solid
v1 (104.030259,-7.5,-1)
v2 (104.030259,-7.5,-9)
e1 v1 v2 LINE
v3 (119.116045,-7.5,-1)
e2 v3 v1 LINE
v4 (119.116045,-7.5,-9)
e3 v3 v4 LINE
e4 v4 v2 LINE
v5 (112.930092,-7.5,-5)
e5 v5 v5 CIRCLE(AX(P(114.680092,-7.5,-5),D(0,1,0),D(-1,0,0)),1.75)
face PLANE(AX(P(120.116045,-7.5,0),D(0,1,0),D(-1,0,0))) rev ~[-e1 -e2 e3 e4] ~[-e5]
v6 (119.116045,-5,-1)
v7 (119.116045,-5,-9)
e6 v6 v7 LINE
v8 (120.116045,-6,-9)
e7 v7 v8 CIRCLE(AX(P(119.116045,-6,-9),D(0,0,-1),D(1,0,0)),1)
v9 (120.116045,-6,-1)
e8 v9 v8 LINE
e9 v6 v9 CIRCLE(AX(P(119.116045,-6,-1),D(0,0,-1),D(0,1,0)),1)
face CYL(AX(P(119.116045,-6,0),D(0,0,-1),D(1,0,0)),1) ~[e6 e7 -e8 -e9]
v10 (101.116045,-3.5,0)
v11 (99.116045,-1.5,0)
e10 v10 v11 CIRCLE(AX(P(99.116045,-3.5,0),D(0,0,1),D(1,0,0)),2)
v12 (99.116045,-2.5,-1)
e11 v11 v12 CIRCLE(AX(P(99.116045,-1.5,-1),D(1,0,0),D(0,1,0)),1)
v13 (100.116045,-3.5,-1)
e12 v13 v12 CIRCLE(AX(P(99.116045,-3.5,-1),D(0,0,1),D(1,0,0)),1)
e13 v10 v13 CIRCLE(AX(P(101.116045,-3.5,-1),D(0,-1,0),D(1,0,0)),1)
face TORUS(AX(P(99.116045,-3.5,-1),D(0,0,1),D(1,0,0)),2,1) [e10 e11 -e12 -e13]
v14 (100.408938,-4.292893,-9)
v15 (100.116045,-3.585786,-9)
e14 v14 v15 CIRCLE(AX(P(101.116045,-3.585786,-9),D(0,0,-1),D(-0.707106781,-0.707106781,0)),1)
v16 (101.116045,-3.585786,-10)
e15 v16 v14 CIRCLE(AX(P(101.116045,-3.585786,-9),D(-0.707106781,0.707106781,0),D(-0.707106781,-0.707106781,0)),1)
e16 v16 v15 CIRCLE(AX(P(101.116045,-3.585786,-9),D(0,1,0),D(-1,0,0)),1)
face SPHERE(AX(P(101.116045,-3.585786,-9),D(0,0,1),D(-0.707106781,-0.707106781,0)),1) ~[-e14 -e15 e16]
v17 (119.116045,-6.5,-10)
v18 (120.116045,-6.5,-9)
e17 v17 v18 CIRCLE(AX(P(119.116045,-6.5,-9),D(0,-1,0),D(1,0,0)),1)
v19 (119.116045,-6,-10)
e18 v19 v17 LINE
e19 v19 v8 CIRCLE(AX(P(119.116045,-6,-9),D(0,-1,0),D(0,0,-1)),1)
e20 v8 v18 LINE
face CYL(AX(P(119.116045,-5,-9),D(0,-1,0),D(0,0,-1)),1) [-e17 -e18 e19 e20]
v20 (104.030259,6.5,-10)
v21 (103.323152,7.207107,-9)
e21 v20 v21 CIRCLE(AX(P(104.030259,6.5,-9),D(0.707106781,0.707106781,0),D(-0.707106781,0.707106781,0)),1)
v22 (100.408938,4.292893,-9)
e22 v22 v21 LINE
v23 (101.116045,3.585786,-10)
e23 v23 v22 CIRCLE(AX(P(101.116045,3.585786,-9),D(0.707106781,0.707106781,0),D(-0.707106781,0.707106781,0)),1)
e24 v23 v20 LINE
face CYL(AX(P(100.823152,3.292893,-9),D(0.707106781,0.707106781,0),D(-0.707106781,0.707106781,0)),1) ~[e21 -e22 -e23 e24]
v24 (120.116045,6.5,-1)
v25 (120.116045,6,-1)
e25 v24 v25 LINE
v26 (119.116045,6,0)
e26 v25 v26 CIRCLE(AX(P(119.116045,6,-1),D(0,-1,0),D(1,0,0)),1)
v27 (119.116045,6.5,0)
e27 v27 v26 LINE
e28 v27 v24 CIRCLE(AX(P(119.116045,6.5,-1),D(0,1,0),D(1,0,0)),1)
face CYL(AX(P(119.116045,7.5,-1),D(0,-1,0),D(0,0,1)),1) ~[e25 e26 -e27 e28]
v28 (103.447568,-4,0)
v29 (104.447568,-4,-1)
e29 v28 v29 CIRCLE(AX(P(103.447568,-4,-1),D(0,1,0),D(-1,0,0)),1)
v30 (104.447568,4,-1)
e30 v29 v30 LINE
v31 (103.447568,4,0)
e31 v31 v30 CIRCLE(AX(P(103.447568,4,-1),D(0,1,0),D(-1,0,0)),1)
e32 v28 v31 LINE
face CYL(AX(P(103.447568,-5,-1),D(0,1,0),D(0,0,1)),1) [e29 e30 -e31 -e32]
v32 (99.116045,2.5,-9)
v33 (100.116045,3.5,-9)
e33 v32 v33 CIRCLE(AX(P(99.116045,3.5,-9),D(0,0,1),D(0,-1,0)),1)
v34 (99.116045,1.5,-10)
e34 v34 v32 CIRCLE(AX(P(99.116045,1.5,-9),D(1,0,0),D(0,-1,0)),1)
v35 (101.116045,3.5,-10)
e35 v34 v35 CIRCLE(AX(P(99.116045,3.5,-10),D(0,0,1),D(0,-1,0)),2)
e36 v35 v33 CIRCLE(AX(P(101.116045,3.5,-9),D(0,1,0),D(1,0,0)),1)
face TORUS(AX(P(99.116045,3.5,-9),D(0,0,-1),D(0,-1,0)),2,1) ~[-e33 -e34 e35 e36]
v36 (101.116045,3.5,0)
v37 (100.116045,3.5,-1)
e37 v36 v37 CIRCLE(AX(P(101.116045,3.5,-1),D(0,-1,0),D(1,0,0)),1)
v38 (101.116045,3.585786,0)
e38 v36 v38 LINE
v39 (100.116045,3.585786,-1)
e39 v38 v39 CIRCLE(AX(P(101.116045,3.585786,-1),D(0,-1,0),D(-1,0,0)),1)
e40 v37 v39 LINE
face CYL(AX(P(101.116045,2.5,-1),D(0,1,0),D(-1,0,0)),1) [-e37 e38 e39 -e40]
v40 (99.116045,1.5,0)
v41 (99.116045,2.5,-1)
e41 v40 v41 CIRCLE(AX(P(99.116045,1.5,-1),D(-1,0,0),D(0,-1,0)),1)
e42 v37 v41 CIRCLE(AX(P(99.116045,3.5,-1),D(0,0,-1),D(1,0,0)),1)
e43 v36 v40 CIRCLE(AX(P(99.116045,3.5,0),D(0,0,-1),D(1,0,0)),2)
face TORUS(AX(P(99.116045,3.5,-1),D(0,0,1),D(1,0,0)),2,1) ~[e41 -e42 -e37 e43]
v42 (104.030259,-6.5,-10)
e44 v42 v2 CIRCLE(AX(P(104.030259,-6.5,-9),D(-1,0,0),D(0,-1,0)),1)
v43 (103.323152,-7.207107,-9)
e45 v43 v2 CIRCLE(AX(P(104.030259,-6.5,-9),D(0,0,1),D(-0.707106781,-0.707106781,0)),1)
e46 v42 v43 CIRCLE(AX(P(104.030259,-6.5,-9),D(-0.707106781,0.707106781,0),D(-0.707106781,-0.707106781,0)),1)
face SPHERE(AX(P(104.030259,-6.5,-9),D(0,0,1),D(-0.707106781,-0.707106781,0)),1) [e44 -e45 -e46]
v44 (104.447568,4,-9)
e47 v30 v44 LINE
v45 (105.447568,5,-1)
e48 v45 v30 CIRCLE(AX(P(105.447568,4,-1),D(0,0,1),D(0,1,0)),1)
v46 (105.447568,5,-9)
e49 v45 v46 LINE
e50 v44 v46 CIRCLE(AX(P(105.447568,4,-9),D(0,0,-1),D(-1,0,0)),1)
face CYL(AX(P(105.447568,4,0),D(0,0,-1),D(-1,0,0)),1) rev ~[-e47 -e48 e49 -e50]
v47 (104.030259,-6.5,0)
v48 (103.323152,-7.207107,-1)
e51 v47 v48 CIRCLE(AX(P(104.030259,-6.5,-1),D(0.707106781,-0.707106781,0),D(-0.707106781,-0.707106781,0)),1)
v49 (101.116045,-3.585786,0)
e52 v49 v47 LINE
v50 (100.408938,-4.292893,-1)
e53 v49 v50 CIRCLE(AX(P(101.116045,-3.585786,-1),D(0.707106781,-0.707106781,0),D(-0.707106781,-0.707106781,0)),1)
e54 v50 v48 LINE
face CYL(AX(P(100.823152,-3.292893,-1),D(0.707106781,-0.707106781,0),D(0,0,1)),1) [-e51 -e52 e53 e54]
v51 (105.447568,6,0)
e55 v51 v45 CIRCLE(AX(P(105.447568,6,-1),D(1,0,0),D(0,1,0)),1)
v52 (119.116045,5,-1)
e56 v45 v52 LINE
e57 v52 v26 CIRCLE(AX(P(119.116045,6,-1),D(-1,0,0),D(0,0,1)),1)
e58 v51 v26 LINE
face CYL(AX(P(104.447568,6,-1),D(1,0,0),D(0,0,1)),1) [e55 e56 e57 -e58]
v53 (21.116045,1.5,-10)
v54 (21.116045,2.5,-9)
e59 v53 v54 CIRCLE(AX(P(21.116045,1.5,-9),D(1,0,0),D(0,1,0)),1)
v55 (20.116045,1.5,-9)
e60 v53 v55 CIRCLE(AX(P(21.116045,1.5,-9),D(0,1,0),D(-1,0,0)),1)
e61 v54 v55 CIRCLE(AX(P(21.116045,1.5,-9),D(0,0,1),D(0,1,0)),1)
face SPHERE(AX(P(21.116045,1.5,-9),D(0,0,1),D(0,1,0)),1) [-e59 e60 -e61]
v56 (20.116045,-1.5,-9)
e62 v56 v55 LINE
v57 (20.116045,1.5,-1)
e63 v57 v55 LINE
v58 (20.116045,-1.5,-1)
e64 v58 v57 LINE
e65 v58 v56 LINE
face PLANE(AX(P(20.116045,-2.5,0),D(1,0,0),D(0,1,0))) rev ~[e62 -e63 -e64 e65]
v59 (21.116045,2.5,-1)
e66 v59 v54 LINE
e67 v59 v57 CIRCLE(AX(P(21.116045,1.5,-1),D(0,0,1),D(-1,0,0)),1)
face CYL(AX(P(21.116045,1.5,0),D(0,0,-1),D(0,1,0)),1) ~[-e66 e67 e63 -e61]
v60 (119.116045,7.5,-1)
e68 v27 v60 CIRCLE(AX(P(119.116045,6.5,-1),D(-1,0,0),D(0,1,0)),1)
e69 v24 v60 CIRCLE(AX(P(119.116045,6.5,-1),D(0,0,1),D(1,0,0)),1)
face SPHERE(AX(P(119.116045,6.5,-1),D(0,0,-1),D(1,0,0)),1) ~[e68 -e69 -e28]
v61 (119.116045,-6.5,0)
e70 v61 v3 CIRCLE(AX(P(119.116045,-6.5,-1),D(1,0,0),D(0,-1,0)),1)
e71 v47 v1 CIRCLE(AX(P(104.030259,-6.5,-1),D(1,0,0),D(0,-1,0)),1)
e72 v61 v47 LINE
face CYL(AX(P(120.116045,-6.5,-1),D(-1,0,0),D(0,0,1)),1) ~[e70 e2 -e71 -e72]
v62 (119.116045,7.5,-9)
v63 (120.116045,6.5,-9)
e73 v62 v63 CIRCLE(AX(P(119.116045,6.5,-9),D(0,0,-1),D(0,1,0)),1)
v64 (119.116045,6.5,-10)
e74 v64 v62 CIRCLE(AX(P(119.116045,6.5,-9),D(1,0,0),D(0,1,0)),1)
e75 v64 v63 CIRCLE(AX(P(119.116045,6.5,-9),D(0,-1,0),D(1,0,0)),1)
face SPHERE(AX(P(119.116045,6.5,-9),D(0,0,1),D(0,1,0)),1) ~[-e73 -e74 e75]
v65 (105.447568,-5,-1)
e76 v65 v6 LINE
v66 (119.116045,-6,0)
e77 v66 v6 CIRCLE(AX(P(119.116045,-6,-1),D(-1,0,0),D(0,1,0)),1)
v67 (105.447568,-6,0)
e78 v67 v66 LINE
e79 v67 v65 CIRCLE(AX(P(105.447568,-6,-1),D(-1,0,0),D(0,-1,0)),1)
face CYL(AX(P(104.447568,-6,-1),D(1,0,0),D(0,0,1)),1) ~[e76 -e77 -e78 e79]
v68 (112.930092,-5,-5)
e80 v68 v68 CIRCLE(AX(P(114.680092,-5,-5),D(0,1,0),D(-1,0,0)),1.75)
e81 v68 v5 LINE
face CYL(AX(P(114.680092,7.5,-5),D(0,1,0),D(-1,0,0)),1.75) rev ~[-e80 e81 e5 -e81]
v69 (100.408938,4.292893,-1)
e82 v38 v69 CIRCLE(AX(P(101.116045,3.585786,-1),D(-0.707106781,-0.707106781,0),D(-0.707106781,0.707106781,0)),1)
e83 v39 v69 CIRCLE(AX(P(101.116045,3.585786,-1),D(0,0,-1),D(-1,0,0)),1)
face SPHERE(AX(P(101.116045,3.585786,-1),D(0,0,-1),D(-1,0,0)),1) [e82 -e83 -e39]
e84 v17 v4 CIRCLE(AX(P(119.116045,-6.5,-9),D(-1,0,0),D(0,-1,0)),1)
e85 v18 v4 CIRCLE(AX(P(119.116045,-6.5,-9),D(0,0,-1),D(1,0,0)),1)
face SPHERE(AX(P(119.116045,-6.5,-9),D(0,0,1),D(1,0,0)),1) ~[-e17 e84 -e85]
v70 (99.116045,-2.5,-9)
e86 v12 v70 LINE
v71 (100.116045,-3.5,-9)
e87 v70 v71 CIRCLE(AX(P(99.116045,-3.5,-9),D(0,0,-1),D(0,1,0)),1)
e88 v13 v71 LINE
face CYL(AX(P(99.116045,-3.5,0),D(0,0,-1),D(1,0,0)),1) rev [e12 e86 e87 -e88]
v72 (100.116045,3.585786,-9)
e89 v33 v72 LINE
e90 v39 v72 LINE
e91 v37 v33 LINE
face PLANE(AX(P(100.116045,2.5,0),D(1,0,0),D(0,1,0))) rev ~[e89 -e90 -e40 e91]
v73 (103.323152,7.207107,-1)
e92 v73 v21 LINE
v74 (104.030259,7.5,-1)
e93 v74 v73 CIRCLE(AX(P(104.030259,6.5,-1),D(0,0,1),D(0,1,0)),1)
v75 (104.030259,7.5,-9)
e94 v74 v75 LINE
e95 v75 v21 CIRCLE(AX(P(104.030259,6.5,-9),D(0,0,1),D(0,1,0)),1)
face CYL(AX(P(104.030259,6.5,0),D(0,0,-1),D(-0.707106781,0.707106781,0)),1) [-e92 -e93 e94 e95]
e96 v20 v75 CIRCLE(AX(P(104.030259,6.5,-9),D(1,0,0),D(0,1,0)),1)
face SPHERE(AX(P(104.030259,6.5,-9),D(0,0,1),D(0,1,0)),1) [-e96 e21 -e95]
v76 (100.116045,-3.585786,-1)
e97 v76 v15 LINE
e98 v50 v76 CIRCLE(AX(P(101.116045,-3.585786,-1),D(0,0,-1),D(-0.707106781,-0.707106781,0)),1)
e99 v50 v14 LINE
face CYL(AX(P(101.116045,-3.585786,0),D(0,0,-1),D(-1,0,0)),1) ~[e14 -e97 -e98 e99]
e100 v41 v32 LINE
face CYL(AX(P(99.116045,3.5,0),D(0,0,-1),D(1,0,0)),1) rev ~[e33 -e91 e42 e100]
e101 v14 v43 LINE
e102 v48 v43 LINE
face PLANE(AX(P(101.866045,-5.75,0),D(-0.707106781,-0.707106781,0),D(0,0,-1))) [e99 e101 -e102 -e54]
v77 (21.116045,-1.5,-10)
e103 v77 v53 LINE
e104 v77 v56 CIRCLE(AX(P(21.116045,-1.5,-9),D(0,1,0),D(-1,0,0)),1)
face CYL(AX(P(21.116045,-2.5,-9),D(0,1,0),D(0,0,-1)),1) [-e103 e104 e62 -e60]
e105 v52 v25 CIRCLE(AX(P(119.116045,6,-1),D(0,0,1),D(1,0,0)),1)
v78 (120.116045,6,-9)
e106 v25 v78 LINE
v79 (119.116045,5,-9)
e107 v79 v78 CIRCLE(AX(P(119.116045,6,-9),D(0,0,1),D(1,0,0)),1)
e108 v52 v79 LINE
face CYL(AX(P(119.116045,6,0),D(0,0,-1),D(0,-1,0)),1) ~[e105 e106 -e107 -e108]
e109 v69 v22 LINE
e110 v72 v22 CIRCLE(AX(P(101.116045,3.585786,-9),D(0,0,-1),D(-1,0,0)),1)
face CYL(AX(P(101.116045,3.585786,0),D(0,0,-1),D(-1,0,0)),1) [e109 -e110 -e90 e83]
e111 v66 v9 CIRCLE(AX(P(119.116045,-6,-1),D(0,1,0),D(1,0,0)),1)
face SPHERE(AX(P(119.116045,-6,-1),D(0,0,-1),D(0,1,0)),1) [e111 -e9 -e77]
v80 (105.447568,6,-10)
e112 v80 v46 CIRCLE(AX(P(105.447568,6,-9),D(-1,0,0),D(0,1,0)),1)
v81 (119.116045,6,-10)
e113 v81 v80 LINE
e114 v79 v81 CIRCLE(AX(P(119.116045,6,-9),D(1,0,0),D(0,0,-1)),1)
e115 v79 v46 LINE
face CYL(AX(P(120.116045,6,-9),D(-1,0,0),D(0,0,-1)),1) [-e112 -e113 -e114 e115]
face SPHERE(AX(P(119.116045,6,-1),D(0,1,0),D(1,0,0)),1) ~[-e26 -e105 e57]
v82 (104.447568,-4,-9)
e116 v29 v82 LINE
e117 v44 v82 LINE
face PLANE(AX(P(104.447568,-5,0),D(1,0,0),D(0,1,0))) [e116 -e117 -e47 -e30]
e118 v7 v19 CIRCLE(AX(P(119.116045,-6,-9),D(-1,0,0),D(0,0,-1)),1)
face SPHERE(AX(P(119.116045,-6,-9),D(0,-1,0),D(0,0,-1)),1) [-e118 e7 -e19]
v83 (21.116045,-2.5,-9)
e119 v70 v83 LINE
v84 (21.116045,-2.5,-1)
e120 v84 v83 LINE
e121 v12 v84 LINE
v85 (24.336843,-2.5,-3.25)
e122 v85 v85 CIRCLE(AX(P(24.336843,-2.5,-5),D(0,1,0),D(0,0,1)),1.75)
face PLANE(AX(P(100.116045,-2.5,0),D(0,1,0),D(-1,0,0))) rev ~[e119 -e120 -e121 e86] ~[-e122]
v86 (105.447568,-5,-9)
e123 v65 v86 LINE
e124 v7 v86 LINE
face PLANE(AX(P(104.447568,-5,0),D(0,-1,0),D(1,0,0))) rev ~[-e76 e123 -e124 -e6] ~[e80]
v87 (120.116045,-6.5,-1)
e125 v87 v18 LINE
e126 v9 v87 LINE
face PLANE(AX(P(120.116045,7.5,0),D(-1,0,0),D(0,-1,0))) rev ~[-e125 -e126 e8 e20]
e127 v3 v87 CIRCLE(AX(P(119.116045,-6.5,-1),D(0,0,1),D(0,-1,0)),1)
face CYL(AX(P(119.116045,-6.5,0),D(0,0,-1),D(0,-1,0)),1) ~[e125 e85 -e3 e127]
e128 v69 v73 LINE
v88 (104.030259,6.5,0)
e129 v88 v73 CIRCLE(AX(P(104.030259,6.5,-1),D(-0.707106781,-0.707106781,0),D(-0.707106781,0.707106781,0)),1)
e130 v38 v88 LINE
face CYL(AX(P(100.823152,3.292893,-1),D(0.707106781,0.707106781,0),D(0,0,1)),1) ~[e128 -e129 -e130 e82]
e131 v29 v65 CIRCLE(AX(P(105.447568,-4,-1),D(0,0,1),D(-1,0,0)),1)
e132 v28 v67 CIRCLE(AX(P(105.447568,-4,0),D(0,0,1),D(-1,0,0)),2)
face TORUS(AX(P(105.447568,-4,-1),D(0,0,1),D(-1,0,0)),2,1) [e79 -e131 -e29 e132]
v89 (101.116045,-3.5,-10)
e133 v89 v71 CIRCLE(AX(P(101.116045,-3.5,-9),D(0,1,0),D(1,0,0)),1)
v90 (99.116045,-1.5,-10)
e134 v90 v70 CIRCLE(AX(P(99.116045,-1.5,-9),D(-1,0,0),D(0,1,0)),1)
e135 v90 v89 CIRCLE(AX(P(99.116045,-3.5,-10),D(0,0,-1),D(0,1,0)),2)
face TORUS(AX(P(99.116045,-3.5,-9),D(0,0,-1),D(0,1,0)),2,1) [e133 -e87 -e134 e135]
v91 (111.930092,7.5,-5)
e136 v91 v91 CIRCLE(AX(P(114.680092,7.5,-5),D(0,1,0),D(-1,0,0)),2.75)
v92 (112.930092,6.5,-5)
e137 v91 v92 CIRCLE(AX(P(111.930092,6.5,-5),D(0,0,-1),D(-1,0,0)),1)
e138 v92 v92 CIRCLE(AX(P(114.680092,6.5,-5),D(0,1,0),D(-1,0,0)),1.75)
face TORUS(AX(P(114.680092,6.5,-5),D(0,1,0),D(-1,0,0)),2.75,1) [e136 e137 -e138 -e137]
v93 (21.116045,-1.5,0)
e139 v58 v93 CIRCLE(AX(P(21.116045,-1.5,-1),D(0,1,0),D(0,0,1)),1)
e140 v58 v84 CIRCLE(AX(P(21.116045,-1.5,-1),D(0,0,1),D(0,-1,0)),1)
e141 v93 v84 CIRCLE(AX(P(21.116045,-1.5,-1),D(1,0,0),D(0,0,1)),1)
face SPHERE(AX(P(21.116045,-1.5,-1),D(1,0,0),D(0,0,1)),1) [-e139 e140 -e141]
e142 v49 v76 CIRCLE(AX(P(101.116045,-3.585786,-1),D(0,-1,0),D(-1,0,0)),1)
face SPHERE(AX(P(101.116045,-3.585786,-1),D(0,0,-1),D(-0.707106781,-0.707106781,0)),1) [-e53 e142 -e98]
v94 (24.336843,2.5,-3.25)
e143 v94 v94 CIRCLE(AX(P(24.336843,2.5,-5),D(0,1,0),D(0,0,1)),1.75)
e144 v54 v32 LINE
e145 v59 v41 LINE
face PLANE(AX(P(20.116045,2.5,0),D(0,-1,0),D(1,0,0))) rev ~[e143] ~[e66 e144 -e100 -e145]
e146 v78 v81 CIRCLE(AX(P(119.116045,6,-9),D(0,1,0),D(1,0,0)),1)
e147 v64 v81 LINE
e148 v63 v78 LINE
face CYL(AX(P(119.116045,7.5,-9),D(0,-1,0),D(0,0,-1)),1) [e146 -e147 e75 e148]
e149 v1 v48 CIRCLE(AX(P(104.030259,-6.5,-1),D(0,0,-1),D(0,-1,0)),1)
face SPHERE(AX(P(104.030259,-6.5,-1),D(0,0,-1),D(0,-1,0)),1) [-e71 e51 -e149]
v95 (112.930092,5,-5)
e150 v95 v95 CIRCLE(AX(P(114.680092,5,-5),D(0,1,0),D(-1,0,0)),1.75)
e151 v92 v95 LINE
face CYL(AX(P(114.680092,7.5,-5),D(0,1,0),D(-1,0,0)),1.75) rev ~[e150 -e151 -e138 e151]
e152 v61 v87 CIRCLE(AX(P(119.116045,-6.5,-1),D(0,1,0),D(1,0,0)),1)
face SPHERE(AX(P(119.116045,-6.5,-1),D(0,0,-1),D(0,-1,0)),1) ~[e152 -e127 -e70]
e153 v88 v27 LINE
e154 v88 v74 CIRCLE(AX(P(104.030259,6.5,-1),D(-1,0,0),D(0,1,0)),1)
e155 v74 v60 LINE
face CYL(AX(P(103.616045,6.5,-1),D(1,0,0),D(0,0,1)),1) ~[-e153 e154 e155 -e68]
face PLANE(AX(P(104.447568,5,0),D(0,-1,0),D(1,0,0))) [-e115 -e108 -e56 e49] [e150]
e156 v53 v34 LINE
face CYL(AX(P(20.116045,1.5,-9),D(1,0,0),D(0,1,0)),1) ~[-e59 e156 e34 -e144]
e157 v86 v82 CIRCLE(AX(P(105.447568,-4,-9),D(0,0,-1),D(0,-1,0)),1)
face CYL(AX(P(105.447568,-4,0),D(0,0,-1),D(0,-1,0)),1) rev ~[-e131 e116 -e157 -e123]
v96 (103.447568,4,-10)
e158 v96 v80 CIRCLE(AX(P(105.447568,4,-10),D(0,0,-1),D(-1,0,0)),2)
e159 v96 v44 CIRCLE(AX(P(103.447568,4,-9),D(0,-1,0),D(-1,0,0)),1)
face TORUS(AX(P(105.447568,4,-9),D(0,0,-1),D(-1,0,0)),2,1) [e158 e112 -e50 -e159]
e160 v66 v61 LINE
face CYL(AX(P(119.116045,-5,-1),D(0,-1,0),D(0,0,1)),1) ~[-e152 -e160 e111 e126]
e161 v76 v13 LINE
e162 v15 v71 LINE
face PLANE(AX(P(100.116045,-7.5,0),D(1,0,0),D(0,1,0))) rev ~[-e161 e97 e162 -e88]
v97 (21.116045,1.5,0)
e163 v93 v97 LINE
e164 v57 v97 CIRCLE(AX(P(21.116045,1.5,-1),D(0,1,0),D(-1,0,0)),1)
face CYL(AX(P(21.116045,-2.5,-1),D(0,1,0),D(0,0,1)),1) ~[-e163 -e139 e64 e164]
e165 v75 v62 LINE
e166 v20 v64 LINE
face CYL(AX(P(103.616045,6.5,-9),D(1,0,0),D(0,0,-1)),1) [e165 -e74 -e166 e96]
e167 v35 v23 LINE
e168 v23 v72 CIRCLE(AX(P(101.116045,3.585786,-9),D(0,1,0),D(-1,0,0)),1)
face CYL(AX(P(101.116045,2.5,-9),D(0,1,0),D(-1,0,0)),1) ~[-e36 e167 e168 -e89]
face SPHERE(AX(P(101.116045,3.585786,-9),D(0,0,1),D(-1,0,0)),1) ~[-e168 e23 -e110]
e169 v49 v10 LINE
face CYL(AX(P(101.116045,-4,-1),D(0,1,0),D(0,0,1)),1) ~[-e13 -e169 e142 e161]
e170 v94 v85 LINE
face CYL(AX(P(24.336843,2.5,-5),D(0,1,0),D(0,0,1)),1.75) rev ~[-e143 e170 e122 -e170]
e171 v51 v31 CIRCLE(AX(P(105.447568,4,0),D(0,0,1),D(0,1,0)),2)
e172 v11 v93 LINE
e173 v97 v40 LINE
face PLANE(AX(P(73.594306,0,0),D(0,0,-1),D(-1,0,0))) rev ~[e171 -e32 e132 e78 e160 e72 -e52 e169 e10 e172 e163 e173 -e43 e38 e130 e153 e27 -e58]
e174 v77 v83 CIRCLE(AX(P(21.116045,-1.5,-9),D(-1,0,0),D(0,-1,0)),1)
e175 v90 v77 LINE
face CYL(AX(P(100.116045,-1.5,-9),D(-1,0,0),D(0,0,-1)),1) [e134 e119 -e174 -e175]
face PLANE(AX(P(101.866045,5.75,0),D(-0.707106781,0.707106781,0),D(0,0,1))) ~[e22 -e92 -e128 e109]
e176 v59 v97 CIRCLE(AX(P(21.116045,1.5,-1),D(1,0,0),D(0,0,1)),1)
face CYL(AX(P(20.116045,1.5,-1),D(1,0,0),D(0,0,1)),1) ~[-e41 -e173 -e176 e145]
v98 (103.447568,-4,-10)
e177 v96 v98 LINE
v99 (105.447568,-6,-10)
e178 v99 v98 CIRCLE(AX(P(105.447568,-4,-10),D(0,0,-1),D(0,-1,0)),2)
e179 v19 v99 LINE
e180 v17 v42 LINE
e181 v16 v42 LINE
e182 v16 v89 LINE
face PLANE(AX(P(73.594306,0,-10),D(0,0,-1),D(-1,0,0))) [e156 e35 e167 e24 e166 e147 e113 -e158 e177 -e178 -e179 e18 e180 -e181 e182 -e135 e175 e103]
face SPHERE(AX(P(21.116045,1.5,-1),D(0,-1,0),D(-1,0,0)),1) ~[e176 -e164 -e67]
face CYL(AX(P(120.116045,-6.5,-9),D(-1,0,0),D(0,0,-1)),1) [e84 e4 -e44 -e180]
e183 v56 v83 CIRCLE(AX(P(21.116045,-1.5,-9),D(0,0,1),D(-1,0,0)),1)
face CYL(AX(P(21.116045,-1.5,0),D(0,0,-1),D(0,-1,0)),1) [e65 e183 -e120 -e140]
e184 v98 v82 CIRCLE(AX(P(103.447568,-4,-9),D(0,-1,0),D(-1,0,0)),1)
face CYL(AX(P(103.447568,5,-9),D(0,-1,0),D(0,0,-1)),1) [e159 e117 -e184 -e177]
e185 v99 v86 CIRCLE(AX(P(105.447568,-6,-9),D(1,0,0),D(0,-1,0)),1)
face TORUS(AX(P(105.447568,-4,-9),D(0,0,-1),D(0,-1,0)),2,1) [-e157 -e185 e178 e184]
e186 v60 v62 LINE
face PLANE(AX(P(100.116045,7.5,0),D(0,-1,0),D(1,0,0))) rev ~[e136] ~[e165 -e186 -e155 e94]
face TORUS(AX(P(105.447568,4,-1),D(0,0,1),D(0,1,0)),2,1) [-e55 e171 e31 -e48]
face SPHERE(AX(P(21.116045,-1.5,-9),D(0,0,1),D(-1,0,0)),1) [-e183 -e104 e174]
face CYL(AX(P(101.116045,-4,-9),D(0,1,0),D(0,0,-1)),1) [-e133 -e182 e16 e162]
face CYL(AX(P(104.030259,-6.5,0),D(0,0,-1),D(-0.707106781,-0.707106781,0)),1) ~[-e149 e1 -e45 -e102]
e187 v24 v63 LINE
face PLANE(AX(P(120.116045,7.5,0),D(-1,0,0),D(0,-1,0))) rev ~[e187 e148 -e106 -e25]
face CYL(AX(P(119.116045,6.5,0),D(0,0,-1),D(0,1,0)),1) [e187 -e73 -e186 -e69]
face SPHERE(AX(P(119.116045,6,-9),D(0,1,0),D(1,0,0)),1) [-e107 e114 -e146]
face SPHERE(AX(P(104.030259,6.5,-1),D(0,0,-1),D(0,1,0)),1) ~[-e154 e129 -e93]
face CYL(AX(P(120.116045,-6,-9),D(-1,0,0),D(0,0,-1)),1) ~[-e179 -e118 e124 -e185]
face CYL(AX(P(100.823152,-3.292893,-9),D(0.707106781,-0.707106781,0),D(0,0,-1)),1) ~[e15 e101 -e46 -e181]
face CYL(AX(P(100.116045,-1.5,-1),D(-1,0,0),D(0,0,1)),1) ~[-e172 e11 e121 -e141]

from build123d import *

# Parameters (mm, degrees)
BOSS_EXTRUDE1_DEPTH = 10
SKETCH4_W           = 15.668476733
SKETCH4_H           = 10
CUT_EXTRUDE2_DEPTH  = 121.764706338
CHAMFER2_SIZE       = 3.5
FILLET3_R           = 1
SKETCH6_R           = 1.75
CUT_EXTRUDE3_DEPTH  = 122.461369566
SKETCH9_R           = 1.75
CUT_EXTRUDE4_DEPTH  = 121.945708055
FILLET1_R           = 1


with BuildPart() as part:
    # Sketch1 → Boss-Extrude1 (new body)
    with BuildSketch(Plane.XY):
        Polygon((20.116045127, 2.5), (100.116045127, 2.5), (100.116045127, 7.5), (120.116045127, 7.5), (120.116045127, -7.5), (100.116045127, -7.5), (100.116045127, -2.5), (20.116045127, -2.5), align=None)
    extrude(amount=-BOSS_EXTRUDE1_DEPTH)

    # Sketch4 → Cut-Extrude2 (cut, through all)
    with BuildSketch(Plane.XY):
        with Locations((112.281806761, 0)):
            Rectangle(SKETCH4_W, SKETCH4_H)
    extrude(amount=-CUT_EXTRUDE2_DEPTH, mode=Mode.SUBTRACT)

    # Chamfer2
    chamfer2_edges = [part.edges().sort_by_distance(p)[0] for p in [
        (100.116045127, 7.5, -5),
        (100.116045127, -7.5, -5),
    ]]
    chamfer(chamfer2_edges, length=CHAMFER2_SIZE)

    # Fillet3
    fillet3_edges = [part.edges().sort_by_distance(p)[0] for p in [
        (100.116045127, -3.25, -10),
        (60.116045127, -2.5, 0),
        (20.116045127, 0, 0),
        (20.116045127, 2.5, -5),
        (100.116045127, 2.5, -5),
        (120.116045127, 7.5, -5),
        (120.116045127, -7.5, -5),
        (100.116045127, -2.5, -5),
        (20.116045127, -2.5, -5),
        (120.116045127, -6.25, -10),
        (111.866045127, 7.5, -10),
        (120.116045127, 6.25, 0),
        (60.116045127, 2.5, -10),
        (120.116045127, 6.25, -10),
        (120.116045127, 5, -5),
        (112.281806761, -5, -10),
        (120.116045127, -5, -5),
        (104.447568394, 0, -10),
        (104.447568394, -5, -5),
        (112.281806761, 5, -10),
        (104.447568394, 5, -5),
        (112.281806761, 5, 0),
        (104.447568394, 0, 0),
        (112.281806761, -5, 0),
        (100.116045127, -4, -5),
        (20.116045127, 0, -10),
        (100.116045127, 3.25, 0),
        (111.866045127, -7.5, 0),
        (101.866045127, 5.75, 0),
        (101.866045127, -5.75, 0),
        (111.866045127, -7.5, -10),
        (103.616045127, -7.5, -5),
        (100.116045127, 3.25, -10),
        (101.866045127, 5.75, -10),
        (101.866045127, -5.75, -10),
        (103.616045127, 7.5, -5),
        (100.116045127, 4, -5),
        (60.116045127, -2.5, -10),
        (60.116045127, 2.5, 0),
        (111.866045127, 7.5, 0),
        (120.116045127, -6.25, 0),
        (100.116045127, -3.25, 0),
    ]]
    fillet(fillet3_edges, radius=FILLET3_R)

    # Sketch6 → Cut-Extrude3 (cut, through all)
    with BuildSketch(Plane(origin=(0, 7.5, 0), x_dir=(1, 0, 0), z_dir=(0, 1, 0))):
        with Locations(Location((114.68009223, 5, 0), (0, 0, 180))):
            Circle(SKETCH6_R)
    extrude(amount=-CUT_EXTRUDE3_DEPTH, mode=Mode.SUBTRACT)

    # Sketch9 → Cut-Extrude4 (cut, through all)
    with BuildSketch(Plane(origin=(0, 2.5, 0), x_dir=(1, 0, 0), z_dir=(0, 1, 0))):
        with Locations(Location((24.336843368, 5, 0), (0, 0, 270))):
            Circle(SKETCH9_R)
    extrude(amount=-CUT_EXTRUDE4_DEPTH, mode=Mode.SUBTRACT)

    # Fillet1
    fillet1_edges = [part.edges().sort_by_distance(p)[0] for p in [
        (116.43009223, 7.5, -5),
    ]]
    fillet(fillet1_edges, radius=FILLET1_R)


solid = part.part
